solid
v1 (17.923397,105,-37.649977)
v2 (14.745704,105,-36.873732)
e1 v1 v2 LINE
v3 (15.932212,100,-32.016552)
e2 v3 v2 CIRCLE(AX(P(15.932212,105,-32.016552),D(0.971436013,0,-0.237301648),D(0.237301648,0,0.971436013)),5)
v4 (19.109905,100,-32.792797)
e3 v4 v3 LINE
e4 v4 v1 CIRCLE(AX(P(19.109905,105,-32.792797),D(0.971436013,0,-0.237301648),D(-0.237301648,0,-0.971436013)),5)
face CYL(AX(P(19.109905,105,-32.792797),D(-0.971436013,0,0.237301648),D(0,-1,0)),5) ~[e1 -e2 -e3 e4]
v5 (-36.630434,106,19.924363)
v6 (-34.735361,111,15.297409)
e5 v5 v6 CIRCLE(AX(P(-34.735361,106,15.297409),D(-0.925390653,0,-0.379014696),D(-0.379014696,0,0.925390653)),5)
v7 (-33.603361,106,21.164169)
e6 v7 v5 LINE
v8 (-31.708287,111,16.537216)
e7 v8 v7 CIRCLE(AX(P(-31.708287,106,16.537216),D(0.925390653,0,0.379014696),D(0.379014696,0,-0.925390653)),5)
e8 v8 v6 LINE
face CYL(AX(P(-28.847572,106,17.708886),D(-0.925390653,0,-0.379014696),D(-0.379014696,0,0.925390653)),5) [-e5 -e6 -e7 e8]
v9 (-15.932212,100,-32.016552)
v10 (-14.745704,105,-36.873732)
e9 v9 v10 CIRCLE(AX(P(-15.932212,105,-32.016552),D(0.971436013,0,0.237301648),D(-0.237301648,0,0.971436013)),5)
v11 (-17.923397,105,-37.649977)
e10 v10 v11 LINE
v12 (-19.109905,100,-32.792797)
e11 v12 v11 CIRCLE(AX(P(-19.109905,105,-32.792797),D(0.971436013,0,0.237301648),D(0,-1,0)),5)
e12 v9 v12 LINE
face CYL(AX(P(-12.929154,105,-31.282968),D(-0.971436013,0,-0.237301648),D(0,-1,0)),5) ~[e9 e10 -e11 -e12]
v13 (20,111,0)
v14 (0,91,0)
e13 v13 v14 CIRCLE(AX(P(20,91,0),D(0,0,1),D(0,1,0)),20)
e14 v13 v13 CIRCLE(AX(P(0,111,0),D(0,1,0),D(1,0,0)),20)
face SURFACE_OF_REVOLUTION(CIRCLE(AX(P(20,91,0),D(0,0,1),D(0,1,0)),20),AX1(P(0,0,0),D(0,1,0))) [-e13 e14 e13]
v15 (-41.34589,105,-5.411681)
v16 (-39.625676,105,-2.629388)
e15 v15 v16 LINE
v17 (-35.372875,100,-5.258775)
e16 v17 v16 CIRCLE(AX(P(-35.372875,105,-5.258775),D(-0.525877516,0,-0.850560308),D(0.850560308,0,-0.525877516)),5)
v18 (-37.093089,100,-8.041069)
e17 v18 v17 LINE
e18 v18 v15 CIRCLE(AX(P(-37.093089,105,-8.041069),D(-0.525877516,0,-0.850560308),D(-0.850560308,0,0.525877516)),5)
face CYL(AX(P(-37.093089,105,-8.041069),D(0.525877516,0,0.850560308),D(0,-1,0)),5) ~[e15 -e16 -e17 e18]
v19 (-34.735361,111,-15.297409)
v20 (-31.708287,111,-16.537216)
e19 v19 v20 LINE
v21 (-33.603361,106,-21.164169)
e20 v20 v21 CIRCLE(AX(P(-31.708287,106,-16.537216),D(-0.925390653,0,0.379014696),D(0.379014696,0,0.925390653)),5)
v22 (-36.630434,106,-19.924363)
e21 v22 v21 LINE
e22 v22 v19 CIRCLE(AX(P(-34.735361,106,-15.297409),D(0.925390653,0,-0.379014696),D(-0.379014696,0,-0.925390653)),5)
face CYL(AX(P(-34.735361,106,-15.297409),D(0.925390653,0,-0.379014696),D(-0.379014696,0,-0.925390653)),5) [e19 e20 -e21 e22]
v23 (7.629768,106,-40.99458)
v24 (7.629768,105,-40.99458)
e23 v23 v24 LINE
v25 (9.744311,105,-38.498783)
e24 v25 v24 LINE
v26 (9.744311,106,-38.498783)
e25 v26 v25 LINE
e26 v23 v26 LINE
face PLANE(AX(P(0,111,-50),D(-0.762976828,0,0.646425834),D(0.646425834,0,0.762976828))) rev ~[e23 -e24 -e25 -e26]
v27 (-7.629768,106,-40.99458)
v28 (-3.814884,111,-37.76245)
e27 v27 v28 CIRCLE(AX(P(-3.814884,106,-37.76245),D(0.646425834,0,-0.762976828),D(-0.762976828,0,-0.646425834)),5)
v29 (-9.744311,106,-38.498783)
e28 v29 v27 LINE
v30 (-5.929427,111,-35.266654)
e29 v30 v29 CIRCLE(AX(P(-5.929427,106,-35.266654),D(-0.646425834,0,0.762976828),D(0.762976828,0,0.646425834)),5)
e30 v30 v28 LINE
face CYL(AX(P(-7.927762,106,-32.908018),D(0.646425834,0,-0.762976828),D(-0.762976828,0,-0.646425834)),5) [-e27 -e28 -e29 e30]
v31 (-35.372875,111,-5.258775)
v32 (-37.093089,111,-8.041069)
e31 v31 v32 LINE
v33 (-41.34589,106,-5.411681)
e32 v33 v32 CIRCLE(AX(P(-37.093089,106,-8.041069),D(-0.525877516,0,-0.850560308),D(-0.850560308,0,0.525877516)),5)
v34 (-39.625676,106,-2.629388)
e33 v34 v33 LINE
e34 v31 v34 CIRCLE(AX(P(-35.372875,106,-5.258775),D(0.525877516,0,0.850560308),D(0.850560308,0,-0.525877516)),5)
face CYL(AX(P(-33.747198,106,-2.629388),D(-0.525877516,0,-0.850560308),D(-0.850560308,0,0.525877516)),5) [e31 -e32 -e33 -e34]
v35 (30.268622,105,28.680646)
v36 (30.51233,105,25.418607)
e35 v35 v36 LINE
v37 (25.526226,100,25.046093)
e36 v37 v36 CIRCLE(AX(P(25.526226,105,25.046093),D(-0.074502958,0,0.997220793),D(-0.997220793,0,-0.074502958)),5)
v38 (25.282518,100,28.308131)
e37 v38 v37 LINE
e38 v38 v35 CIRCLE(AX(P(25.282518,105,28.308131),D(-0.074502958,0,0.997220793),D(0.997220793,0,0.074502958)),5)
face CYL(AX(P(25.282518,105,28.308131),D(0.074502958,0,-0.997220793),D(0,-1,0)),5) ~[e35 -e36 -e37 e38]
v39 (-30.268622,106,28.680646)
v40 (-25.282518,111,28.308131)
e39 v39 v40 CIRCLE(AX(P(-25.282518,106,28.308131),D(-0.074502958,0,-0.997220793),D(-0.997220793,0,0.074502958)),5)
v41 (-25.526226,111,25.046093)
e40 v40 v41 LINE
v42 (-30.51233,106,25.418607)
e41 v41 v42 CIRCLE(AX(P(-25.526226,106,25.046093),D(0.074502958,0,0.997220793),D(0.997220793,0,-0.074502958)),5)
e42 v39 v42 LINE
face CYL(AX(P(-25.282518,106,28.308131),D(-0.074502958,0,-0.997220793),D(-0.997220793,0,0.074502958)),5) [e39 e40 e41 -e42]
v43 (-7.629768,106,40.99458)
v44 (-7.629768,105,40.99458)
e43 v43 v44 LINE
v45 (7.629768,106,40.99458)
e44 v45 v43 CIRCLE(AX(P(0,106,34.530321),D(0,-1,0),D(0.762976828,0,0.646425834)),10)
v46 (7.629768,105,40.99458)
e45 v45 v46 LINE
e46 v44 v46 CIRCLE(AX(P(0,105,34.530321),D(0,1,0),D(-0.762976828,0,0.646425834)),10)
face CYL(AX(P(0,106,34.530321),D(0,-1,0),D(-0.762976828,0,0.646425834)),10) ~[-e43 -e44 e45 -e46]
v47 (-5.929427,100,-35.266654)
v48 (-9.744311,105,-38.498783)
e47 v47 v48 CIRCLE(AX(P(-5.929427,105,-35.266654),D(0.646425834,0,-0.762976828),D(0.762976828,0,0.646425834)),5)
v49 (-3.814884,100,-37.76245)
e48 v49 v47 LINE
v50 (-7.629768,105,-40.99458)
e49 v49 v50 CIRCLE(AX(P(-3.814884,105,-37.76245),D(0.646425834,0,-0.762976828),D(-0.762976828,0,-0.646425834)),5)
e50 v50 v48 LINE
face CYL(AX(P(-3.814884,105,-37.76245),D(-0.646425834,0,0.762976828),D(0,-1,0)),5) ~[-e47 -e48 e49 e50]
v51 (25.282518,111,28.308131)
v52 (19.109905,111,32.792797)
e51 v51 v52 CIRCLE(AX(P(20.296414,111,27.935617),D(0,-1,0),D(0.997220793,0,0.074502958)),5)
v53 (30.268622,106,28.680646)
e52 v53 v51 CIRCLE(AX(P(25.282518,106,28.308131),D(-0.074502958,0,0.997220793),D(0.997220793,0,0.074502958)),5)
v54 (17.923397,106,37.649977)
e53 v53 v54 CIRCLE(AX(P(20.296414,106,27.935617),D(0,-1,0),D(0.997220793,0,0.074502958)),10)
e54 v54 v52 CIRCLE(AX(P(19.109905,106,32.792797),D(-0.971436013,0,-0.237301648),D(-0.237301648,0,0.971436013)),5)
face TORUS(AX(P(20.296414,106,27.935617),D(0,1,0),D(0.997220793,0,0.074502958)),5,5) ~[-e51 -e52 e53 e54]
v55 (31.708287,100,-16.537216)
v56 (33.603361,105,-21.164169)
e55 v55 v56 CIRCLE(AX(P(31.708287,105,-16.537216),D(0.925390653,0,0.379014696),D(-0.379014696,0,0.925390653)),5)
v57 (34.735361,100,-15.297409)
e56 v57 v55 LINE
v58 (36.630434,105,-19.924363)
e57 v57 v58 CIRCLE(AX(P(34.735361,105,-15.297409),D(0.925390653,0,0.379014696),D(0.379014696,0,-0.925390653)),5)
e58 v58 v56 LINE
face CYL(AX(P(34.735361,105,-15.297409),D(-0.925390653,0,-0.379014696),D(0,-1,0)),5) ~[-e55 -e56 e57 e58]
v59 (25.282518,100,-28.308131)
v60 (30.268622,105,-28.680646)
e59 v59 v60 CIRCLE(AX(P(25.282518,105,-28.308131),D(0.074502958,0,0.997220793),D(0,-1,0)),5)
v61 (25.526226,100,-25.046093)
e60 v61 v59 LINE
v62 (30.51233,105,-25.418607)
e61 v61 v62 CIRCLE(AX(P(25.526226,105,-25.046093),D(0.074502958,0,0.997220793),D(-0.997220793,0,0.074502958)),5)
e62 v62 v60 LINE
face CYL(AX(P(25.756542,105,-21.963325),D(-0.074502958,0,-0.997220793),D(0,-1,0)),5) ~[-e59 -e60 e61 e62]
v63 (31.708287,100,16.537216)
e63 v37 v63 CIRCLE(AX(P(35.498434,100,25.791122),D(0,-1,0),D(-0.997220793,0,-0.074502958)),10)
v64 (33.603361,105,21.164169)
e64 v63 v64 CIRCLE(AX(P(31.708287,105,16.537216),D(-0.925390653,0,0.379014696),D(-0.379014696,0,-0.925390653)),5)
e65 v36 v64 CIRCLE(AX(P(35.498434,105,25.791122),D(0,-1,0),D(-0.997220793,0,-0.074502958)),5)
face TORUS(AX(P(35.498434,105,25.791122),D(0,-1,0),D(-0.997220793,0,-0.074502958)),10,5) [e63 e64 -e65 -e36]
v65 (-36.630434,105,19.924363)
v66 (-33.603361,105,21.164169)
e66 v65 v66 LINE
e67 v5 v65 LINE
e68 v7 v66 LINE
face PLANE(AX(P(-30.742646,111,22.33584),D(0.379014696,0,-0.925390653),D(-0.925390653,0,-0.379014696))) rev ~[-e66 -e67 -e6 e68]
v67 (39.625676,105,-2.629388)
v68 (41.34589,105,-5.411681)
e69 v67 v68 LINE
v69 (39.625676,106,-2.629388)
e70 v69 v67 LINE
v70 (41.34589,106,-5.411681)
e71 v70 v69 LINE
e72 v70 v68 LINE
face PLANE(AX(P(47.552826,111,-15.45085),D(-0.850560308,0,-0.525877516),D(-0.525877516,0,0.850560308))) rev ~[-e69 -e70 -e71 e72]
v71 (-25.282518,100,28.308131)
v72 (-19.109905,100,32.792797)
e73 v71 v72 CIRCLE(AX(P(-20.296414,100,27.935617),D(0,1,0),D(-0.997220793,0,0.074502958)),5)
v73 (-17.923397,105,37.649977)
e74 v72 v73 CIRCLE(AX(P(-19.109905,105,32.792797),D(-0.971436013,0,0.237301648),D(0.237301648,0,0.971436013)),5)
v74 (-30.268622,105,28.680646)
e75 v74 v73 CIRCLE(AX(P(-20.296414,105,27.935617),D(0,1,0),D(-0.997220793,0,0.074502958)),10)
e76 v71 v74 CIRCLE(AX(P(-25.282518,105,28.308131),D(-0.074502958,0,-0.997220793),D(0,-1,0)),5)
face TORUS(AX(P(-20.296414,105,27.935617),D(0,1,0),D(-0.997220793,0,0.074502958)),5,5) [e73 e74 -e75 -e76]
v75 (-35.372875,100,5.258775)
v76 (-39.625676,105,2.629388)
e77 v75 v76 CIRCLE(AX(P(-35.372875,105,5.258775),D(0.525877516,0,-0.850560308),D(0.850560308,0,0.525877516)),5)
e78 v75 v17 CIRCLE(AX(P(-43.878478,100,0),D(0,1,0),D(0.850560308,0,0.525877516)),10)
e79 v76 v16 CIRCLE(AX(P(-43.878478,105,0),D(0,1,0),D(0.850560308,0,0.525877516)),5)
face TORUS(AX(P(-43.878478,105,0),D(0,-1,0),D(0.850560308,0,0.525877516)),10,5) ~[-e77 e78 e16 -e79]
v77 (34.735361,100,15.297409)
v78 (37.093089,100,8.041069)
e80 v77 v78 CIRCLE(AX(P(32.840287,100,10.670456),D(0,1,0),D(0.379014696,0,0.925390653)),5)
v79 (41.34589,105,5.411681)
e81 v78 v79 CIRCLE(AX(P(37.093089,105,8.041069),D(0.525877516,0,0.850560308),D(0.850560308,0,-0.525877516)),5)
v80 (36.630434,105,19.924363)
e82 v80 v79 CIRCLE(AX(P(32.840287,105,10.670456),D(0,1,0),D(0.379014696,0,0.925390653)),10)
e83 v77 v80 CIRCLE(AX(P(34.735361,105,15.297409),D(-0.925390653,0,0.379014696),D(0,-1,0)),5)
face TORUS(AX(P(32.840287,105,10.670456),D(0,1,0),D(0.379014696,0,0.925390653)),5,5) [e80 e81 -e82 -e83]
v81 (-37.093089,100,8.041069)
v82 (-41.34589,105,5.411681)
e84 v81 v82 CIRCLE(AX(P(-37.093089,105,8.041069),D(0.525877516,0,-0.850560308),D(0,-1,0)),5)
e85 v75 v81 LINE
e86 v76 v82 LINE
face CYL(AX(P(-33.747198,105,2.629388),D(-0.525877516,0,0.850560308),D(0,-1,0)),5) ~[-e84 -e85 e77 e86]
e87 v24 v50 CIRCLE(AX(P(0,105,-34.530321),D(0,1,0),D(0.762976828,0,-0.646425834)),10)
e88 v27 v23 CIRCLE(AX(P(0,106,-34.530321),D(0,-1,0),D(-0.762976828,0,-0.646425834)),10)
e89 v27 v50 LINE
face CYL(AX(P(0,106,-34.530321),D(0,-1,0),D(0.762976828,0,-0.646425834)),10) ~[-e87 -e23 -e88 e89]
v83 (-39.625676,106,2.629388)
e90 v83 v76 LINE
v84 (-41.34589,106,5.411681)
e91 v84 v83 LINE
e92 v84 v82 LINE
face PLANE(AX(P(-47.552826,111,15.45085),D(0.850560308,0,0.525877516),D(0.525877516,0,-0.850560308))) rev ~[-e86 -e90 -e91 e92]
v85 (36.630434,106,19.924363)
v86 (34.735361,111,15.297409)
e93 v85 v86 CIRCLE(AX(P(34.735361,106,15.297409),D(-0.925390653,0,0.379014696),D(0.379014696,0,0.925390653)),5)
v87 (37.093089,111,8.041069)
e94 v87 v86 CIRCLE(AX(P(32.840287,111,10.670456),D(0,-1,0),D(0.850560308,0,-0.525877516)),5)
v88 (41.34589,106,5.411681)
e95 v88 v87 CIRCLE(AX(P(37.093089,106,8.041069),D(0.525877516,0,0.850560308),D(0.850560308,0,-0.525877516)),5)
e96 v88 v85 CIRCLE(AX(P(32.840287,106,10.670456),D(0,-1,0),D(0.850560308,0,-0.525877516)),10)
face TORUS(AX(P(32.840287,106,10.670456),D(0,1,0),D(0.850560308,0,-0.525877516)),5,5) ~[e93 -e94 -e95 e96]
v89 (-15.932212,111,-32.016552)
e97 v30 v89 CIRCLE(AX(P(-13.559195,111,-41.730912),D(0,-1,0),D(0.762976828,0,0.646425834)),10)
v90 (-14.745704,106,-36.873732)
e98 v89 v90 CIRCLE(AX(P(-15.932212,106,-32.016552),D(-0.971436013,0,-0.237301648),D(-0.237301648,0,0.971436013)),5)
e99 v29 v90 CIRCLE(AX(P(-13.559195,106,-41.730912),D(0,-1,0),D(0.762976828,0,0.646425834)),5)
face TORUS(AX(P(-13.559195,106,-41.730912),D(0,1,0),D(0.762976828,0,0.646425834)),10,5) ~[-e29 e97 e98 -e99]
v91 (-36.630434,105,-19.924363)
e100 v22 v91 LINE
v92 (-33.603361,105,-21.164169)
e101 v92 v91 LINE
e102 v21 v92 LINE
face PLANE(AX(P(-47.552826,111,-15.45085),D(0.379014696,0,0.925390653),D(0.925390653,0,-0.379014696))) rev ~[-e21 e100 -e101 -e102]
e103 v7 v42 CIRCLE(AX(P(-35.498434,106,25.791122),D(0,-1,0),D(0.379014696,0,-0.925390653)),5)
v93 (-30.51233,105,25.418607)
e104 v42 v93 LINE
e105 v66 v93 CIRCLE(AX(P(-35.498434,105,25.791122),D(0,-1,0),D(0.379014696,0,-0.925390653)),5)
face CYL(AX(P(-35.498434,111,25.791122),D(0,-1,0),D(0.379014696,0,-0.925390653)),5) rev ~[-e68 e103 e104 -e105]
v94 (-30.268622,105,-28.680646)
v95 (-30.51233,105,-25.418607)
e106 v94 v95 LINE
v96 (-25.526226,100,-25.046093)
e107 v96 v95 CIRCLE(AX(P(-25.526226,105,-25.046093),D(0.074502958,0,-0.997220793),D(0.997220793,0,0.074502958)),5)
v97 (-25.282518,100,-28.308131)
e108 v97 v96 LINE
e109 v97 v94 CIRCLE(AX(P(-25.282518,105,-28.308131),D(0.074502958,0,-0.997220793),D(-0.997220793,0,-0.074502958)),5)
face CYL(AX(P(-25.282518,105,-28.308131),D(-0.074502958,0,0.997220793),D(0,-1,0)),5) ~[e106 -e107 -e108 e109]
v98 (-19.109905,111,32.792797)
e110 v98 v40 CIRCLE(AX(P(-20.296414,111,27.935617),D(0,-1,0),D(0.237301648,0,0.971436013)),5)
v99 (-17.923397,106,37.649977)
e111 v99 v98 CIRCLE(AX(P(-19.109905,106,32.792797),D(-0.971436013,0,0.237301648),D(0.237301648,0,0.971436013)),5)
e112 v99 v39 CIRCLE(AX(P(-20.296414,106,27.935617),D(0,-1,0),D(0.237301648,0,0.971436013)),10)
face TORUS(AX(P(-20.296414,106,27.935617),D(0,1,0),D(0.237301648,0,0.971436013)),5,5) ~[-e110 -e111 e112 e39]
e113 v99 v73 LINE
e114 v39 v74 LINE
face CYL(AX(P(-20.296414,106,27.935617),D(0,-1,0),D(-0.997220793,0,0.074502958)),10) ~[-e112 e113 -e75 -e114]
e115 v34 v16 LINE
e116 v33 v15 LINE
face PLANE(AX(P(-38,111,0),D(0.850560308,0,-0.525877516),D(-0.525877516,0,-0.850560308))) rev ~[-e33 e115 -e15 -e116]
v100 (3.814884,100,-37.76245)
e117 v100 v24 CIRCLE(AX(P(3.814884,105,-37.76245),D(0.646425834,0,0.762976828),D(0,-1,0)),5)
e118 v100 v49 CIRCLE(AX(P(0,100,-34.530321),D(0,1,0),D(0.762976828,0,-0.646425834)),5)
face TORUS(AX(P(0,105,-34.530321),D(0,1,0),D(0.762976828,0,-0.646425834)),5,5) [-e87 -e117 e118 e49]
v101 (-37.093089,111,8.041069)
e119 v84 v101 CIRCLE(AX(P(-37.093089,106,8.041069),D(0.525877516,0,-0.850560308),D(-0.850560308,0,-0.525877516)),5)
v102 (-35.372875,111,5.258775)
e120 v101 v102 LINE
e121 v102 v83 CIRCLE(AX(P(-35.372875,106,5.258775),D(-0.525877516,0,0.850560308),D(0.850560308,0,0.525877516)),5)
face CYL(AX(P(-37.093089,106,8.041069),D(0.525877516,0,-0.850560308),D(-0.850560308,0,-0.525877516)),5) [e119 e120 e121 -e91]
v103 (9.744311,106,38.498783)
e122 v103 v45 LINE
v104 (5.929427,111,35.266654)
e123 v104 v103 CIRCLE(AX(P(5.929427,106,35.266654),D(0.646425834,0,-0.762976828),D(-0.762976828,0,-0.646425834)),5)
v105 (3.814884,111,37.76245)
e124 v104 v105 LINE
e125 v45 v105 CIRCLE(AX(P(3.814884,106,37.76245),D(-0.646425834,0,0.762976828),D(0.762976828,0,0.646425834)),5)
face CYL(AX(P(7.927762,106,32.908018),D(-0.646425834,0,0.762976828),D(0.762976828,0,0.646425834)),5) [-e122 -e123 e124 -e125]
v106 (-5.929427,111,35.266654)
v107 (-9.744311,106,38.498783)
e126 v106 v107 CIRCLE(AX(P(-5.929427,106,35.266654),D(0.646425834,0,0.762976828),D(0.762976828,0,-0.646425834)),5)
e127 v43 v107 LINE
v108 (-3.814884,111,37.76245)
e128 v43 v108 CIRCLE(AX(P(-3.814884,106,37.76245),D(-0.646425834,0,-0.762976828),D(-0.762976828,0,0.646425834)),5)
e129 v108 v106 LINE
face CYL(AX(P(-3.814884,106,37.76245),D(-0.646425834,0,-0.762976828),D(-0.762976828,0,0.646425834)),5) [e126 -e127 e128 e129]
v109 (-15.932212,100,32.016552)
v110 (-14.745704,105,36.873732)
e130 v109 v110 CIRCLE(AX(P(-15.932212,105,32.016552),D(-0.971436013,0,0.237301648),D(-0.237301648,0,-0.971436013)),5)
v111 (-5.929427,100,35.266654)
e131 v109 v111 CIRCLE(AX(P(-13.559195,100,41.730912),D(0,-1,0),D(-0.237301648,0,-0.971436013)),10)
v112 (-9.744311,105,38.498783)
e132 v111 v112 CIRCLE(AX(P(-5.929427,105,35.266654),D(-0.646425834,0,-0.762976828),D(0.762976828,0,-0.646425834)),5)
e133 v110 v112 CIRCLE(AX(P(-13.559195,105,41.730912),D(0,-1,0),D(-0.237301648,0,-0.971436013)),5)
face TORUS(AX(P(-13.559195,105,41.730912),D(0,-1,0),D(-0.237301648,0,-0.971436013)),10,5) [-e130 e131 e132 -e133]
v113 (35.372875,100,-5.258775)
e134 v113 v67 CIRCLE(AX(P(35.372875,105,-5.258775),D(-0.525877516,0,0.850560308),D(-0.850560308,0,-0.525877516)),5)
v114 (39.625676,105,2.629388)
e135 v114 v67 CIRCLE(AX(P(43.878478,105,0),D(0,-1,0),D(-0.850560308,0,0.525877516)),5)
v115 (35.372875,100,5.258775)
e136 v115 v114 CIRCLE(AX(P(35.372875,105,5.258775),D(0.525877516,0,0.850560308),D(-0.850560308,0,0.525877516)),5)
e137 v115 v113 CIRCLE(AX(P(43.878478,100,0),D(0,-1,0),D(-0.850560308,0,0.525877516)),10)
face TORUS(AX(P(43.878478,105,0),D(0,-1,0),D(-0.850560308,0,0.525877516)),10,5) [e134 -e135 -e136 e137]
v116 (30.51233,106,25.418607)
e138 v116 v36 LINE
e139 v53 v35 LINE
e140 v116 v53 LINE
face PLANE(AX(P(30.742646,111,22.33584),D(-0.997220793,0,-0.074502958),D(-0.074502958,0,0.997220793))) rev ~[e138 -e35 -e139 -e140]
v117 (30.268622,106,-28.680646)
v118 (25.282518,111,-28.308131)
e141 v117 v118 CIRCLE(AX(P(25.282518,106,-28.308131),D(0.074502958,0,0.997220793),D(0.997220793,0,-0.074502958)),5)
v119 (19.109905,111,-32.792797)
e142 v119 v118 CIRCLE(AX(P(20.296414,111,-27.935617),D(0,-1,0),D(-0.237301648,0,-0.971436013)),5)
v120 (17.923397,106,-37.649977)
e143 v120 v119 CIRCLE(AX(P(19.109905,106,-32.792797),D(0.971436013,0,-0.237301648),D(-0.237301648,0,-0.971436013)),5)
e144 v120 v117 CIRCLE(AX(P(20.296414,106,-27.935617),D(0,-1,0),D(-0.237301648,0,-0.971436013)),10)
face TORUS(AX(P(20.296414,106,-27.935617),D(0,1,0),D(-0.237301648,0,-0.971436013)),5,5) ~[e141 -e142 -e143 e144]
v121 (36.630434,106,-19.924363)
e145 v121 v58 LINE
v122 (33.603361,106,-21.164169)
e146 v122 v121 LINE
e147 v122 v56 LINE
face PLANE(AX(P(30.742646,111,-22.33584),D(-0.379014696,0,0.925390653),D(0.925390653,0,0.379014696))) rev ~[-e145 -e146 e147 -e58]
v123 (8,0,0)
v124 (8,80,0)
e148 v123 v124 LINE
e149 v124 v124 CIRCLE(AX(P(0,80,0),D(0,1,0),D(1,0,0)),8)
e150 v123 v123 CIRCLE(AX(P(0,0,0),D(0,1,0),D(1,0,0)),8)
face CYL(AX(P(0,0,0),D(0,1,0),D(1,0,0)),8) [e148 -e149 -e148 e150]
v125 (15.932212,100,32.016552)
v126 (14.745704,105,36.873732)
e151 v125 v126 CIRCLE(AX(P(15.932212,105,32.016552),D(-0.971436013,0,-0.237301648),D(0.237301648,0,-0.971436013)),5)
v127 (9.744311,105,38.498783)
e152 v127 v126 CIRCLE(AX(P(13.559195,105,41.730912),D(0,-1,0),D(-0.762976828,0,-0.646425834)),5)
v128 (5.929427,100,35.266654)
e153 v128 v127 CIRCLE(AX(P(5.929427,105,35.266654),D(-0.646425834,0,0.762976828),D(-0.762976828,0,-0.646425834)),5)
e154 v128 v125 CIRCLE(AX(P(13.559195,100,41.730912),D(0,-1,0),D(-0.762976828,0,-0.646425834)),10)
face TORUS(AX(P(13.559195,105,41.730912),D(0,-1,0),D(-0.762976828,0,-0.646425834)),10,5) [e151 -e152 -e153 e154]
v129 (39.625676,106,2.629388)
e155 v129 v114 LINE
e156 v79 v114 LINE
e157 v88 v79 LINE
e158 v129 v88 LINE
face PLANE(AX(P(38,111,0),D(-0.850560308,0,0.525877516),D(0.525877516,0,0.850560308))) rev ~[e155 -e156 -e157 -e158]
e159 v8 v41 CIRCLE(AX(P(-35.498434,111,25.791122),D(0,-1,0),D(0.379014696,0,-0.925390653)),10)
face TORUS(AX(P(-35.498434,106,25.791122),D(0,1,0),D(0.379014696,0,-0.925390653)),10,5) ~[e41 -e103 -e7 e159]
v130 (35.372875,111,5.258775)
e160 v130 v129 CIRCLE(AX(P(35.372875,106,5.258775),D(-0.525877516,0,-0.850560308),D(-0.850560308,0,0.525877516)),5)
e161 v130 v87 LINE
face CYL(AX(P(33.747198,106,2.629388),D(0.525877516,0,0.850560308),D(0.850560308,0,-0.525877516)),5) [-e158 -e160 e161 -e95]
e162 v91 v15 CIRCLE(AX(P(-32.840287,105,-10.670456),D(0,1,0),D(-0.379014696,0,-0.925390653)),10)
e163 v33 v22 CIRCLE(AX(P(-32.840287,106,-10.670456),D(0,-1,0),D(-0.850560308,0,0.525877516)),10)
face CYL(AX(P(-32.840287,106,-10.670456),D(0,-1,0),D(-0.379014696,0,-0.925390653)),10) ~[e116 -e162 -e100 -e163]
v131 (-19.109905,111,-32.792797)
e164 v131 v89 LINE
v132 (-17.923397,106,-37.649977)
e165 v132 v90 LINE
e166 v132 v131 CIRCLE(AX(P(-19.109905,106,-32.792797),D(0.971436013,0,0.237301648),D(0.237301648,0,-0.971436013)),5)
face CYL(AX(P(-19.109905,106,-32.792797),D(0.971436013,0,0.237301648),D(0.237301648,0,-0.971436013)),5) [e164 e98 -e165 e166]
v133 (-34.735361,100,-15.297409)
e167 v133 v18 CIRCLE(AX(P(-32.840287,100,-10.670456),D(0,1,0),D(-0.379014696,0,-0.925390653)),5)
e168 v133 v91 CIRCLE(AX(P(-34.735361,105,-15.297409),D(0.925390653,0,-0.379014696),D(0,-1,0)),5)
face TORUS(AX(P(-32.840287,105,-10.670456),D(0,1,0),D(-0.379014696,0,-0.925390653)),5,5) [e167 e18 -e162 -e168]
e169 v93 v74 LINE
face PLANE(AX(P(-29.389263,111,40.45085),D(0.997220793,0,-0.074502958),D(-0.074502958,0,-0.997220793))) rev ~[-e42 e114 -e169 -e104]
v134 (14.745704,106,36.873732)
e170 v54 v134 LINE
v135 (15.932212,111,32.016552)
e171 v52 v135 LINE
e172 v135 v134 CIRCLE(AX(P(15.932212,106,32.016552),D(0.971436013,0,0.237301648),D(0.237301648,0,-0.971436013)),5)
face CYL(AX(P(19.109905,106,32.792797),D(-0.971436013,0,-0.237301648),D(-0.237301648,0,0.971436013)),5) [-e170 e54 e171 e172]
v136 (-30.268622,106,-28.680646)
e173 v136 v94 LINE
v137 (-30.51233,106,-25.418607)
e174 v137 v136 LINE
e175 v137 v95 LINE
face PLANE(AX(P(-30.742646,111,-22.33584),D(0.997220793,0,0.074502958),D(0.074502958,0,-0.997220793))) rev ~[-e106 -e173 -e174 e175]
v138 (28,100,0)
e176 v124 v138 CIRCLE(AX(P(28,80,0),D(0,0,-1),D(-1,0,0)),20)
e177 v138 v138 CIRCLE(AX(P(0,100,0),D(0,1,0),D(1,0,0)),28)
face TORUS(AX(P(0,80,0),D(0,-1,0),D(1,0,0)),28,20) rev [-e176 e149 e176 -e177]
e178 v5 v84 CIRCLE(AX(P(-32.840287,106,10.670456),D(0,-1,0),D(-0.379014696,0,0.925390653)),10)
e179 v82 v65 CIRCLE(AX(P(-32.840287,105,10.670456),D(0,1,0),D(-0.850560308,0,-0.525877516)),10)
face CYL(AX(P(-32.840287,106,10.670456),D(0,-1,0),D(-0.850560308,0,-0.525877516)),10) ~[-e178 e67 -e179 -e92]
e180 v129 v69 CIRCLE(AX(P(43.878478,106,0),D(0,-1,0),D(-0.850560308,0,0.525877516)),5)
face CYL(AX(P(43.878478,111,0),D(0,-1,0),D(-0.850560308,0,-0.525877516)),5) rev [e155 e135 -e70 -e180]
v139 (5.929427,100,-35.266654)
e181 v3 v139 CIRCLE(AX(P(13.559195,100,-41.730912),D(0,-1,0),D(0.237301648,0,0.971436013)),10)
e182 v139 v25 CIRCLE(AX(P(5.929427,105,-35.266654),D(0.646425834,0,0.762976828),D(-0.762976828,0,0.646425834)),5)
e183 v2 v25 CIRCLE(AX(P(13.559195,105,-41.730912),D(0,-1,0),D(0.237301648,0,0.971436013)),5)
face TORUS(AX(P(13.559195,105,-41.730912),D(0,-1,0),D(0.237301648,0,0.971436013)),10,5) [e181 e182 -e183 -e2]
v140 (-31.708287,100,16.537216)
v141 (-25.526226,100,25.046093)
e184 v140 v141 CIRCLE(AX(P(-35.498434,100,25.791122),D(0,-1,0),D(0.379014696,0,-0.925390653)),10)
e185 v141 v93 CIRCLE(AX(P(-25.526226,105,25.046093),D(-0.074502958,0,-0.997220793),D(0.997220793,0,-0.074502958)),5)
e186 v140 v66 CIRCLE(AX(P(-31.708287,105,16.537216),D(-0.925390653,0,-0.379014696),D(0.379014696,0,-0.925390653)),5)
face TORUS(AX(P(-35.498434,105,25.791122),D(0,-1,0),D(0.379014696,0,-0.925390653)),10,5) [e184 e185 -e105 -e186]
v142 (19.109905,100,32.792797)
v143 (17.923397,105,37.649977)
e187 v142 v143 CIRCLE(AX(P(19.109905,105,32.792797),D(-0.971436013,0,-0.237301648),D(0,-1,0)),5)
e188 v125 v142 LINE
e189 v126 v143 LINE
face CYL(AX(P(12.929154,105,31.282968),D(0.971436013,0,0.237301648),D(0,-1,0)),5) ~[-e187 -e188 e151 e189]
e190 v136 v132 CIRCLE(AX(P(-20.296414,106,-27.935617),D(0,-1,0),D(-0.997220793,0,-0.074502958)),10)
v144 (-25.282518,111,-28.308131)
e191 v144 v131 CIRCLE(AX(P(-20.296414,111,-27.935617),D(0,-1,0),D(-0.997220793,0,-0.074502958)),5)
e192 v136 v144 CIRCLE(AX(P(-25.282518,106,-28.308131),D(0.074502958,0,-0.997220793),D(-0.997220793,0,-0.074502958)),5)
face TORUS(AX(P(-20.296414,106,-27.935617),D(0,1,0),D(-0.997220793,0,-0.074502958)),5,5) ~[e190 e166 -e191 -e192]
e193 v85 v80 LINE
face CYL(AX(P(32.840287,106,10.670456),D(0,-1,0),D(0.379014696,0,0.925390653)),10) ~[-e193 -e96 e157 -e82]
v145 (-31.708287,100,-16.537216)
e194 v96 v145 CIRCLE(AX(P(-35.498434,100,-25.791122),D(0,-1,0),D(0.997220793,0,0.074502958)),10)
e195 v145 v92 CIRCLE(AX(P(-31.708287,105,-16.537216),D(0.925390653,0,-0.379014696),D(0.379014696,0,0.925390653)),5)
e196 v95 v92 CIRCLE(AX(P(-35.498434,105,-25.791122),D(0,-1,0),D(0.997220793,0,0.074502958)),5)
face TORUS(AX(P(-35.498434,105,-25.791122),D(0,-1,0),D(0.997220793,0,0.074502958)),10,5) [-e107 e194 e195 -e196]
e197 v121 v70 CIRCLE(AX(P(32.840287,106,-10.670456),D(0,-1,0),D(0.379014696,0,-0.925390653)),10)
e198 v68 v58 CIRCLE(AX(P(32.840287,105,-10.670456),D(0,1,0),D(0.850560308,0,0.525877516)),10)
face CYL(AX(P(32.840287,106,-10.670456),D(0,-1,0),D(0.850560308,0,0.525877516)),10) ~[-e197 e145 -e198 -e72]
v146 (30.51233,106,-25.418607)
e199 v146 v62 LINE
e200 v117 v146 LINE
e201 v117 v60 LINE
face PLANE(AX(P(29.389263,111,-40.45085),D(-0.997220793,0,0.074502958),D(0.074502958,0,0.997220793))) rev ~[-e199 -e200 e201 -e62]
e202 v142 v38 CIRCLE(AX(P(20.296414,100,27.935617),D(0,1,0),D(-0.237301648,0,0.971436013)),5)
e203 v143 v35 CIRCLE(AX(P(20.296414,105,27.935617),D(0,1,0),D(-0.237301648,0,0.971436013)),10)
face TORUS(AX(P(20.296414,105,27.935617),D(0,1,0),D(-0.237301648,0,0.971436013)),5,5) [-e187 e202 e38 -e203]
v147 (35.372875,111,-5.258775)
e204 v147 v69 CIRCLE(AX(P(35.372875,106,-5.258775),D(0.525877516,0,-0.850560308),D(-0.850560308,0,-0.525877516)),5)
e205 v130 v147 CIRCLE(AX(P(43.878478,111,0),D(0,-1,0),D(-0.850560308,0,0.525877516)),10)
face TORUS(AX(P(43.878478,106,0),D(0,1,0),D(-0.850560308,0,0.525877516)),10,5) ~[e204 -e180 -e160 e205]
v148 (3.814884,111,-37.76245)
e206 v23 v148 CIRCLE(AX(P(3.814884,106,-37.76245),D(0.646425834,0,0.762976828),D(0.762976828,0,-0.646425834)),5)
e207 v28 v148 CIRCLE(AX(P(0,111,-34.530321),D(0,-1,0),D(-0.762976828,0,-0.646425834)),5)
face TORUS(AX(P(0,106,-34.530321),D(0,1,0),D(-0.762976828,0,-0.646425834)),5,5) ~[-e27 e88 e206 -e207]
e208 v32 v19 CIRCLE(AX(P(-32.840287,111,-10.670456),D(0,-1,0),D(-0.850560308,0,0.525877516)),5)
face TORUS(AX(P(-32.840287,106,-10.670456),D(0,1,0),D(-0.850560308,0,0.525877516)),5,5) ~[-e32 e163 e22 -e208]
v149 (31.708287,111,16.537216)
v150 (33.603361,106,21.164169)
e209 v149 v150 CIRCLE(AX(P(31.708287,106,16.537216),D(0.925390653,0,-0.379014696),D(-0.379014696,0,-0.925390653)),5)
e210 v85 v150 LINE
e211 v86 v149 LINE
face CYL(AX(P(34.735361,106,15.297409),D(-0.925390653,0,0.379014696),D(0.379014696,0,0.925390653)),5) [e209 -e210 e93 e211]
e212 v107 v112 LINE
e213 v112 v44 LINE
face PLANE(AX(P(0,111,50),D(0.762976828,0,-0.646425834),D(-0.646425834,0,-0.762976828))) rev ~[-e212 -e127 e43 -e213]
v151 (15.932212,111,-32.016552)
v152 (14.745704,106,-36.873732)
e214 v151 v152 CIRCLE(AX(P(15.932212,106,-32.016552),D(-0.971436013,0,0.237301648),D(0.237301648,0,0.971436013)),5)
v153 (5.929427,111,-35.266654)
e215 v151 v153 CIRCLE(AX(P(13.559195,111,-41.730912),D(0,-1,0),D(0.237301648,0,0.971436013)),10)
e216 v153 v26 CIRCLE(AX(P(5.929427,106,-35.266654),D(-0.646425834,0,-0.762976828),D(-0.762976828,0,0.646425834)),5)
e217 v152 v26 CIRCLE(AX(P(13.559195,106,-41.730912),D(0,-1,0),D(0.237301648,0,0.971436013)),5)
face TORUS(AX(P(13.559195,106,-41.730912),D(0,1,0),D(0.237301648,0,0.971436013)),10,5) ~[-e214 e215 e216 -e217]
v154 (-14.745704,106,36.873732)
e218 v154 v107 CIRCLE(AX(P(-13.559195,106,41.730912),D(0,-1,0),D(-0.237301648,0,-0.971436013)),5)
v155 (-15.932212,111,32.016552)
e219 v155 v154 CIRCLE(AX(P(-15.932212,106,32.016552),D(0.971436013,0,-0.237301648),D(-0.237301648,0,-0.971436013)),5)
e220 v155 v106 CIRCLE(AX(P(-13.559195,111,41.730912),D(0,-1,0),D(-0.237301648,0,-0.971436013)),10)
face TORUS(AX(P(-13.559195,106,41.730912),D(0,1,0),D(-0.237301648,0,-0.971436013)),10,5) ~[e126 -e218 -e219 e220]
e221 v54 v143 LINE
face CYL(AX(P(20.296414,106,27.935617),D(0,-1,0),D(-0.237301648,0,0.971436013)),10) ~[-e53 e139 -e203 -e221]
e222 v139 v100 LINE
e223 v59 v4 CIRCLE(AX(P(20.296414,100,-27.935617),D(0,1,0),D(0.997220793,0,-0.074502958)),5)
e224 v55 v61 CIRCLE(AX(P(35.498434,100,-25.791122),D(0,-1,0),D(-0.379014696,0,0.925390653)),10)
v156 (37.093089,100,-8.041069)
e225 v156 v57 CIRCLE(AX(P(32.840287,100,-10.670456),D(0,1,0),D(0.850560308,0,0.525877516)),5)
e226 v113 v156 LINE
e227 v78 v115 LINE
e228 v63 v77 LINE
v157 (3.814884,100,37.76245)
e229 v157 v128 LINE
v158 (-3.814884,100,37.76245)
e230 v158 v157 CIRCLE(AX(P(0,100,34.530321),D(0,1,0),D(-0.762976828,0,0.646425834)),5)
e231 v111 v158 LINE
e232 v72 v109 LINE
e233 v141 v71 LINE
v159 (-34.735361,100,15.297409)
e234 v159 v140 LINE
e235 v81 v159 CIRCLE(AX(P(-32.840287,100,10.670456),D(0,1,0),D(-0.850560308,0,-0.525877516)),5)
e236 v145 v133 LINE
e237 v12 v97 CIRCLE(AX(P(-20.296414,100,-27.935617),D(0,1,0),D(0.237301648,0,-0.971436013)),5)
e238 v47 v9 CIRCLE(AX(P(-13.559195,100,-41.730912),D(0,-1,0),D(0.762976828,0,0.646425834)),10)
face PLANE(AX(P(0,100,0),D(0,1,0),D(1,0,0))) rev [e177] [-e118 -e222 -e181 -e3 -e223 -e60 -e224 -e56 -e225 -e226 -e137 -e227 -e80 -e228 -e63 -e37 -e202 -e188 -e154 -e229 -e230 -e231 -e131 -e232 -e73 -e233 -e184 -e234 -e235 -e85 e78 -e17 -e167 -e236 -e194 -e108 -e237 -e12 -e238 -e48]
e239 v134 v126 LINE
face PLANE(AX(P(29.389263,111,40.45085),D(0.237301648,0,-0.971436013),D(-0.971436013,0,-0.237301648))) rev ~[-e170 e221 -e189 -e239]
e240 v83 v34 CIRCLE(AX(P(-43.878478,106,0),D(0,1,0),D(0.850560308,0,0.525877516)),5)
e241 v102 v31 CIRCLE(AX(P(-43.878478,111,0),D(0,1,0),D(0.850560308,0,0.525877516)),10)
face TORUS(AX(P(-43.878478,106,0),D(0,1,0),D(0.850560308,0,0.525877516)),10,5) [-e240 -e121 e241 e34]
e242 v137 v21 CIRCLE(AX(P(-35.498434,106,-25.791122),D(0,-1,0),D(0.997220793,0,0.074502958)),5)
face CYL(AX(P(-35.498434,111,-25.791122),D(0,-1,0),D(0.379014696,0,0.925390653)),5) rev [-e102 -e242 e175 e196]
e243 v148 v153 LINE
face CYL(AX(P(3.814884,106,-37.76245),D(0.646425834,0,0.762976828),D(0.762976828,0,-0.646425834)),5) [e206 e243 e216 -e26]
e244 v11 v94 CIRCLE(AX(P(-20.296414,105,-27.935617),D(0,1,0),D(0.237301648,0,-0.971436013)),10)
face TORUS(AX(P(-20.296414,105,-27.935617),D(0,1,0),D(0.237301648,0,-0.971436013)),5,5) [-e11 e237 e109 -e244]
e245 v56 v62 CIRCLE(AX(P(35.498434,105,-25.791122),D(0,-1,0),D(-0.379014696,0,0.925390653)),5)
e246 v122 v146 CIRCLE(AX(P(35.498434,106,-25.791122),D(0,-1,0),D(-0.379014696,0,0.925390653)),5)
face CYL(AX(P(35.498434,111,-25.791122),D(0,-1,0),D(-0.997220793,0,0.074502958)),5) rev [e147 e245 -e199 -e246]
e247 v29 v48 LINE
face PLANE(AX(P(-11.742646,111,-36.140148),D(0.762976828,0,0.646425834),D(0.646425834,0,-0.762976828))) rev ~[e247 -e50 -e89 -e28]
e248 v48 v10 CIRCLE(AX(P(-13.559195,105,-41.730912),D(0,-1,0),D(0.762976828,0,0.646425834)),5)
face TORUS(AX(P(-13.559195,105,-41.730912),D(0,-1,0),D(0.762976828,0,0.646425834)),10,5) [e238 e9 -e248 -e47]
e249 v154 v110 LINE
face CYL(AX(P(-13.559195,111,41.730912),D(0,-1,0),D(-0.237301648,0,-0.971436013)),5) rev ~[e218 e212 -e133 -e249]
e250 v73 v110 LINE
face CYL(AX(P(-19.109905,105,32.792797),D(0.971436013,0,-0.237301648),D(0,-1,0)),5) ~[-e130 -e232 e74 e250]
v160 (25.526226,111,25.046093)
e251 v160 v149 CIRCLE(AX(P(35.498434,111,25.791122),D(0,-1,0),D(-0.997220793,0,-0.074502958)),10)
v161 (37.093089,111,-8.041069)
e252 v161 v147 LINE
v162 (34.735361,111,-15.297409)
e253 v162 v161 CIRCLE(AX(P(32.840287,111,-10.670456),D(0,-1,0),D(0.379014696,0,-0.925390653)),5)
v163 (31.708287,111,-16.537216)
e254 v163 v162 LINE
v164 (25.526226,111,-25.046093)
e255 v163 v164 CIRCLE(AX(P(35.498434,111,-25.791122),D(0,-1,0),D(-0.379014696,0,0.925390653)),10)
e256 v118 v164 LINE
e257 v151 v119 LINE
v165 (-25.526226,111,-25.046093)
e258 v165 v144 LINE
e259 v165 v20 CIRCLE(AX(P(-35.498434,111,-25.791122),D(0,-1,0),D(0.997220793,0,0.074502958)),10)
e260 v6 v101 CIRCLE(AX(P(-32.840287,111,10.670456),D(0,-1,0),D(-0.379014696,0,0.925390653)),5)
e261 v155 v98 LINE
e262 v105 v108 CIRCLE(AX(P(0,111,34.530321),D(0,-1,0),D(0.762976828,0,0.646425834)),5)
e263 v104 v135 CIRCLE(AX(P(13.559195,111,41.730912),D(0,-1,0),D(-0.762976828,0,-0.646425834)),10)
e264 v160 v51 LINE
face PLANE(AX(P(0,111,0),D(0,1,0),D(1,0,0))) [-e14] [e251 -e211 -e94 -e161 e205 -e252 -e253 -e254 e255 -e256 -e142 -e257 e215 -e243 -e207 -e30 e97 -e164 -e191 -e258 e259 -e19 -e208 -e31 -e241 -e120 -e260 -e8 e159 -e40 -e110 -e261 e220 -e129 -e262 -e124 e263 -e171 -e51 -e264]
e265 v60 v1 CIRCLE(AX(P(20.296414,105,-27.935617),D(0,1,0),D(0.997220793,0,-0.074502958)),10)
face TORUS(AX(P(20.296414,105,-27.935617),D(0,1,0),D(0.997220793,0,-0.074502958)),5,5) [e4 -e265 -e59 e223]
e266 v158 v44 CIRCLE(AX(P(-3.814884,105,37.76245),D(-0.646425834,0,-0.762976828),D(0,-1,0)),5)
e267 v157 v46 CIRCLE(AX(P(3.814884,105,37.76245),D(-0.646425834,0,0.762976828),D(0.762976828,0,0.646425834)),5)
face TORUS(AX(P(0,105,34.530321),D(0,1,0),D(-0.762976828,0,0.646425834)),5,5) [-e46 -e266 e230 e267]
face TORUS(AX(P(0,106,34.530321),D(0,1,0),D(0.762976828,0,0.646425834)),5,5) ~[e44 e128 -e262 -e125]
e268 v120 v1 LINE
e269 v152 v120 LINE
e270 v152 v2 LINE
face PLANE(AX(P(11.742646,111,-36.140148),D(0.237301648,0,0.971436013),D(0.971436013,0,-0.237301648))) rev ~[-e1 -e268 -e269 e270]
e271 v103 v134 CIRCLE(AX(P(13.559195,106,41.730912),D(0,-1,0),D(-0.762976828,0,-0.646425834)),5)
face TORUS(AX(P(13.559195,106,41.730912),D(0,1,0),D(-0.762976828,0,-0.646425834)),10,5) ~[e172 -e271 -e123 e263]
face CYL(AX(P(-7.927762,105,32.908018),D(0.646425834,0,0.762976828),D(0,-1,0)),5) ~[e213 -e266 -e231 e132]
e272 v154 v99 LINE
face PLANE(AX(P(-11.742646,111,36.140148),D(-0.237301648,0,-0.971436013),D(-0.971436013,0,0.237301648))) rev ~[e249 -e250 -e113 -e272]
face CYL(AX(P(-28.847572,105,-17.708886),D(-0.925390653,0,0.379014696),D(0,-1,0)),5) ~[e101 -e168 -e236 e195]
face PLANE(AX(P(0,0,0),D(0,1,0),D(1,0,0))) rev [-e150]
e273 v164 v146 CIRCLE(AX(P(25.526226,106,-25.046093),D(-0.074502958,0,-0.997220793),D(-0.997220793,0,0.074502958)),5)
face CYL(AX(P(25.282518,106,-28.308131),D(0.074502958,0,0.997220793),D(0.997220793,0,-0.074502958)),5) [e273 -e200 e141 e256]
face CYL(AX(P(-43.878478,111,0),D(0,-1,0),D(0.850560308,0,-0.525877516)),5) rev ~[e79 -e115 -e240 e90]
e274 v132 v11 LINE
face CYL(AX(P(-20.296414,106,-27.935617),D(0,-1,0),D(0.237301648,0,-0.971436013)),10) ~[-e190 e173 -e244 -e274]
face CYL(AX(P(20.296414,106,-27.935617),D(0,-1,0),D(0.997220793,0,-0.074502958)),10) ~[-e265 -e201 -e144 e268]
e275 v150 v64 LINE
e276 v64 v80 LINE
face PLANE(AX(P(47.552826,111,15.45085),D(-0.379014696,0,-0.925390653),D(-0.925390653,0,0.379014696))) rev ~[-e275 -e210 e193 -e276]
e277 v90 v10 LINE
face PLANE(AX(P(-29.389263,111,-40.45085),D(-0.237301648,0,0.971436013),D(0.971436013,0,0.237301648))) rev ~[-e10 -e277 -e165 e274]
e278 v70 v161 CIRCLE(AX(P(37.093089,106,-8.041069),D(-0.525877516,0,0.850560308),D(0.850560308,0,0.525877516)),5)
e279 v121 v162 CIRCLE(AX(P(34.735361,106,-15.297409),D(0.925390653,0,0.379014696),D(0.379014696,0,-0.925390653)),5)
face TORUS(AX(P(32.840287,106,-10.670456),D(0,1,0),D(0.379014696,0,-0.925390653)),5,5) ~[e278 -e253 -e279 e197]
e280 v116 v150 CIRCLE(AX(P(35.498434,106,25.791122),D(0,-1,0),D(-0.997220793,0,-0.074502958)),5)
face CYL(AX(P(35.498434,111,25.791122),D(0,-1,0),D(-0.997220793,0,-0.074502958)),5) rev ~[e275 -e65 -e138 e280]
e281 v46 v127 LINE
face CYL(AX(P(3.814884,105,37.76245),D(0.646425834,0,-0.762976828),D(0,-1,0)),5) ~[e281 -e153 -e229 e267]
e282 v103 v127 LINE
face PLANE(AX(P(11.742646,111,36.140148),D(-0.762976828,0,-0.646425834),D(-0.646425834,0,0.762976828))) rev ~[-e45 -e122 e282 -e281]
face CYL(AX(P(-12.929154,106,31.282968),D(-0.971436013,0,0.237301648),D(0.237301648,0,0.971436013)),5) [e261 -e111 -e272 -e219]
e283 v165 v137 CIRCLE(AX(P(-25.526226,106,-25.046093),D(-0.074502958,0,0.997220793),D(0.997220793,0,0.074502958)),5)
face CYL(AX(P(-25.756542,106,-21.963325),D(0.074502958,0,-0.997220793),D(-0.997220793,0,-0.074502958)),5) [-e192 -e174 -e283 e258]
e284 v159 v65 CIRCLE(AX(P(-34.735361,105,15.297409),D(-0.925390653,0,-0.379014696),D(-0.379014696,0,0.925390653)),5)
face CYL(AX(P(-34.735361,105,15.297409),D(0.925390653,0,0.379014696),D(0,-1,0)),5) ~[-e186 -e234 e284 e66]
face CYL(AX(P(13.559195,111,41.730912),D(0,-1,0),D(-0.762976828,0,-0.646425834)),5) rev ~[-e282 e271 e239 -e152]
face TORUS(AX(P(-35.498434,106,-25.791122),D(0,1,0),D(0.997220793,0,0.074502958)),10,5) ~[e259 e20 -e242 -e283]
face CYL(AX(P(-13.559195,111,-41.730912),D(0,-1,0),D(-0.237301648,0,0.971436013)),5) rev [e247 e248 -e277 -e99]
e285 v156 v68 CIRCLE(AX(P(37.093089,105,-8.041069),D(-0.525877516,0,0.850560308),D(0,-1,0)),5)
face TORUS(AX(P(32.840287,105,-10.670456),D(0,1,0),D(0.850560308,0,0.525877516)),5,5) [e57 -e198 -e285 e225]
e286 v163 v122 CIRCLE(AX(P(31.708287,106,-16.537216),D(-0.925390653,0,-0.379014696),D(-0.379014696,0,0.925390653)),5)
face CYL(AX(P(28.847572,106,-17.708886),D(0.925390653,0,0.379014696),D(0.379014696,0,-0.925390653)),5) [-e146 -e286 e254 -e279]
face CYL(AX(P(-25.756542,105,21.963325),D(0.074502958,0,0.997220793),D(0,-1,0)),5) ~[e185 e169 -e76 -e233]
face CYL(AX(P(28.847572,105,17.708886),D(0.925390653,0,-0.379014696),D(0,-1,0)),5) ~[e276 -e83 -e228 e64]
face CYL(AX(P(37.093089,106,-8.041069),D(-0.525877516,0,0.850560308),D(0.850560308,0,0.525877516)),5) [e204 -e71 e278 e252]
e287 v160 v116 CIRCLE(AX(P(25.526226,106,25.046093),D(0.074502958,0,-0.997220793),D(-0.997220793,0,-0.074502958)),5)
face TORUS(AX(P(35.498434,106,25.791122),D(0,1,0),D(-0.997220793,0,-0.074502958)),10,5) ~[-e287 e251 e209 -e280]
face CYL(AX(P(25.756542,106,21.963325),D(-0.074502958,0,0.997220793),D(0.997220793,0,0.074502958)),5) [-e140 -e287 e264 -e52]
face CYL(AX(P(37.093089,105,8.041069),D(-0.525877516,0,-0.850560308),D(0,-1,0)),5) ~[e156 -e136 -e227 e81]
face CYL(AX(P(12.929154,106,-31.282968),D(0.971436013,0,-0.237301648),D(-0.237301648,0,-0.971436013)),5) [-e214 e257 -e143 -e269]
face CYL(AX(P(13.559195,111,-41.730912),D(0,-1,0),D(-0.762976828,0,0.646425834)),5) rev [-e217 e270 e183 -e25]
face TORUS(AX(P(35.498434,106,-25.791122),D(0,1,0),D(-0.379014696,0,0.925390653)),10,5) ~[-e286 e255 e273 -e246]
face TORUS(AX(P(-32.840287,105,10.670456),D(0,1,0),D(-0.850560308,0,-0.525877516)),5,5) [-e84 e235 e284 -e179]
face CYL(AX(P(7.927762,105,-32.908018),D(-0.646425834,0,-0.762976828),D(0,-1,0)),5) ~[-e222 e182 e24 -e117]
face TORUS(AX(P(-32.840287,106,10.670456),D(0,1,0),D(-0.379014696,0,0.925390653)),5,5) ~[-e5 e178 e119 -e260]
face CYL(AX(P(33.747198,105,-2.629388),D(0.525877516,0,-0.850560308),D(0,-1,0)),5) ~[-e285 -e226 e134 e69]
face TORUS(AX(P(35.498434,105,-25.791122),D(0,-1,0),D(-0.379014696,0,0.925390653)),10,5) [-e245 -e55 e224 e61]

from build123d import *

# Parameters (mm, degrees)
SKETCH2_OUTSIDE_W = 137.956
SKETCH2_OUTSIDE_H = 137.956
EXTRUDE1_DEPTH    = 40
CONG_1_R          = 10
CONG_2_R          = 10
CONG_3_R          = 10
CONG_4_R          = 10
CONG_5_R          = 10
CONG_6_R          = 10
CONG_7_R          = 10
CONG_8_R          = 10
CONG_9_R          = 10
CONG_10_R         = 10
FILLET1_R         = 5


with BuildPart() as part:
    # Sketch1 → Revolve1 (revolve)
    with BuildSketch(Plane.XY):
        with BuildLine():
            Line((0, 0), (8, 0))
            Line((8, 0), (8, 80))
            ThreePointArc((8, 80), (13.857864376, 94.142135624), (28, 100))
            Line((28, 100), (45, 100))
            ThreePointArc((45, 100), (48.535533906, 101.464466094), (50, 105))
            Line((50, 105), (50, 106))
            ThreePointArc((50, 106), (48.535533906, 109.535533906), (45, 111))
            Line((45, 111), (20, 111))
            ThreePointArc((20, 111), (5.857864376, 105.142135624), (0, 91))
            Line((0, 91), (0, 0))
        make_face()
    revolve(axis=Axis((0, 0, 0), (0, 1, 0)))

    # Sketch2 outside → Extrude1 (cut)
    with BuildSketch(Plane(origin=(0, 111, 0), x_dir=(1, 0, 0), z_dir=(0, 1, 0))):
        Rectangle(SKETCH2_OUTSIDE_W, SKETCH2_OUTSIDE_H)
        Polygon((-29.389262615, -40.450849719), (-30.742645786, -22.335839587), (-47.552825815, -15.450849719), (-38, 0), (-47.552825815, 15.450849719), (-30.742645786, 22.335839587), (-29.389262615, 40.450849719), (-11.742645786, 36.140147619), (0, 50), (11.742645786, 36.140147619), (29.389262615, 40.450849719), (30.742645786, 22.335839587), (47.552825815, 15.450849719), (38, 0), (47.552825815, -15.450849719), (30.742645786, -22.335839587), (29.389262615, -40.450849719), (11.742645786, -36.140147619), (0, -50), (-11.742645786, -36.140147619), align=None, mode=Mode.SUBTRACT)
    extrude(amount=-EXTRUDE1_DEPTH, mode=Mode.SUBTRACT)

    # Congé1
    cong_1_edges = [part.edges().sort_by_distance(p)[0] for p in [
        (-47.552825815, 105.5, 15.450849719),
    ]]
    fillet(cong_1_edges, radius=CONG_1_R)

    # Congé2
    cong_2_edges = [part.edges().sort_by_distance(p)[0] for p in [
        (-29.389262615, 105.5, 40.450849719),
    ]]
    fillet(cong_2_edges, radius=CONG_2_R)

    # Congé3
    cong_3_edges = [part.edges().sort_by_distance(p)[0] for p in [
        (0, 105.5, 50),
    ]]
    fillet(cong_3_edges, radius=CONG_3_R)

    # Congé4
    cong_4_edges = [part.edges().sort_by_distance(p)[0] for p in [
        (29.389262615, 105.5, 40.450849719),
    ]]
    fillet(cong_4_edges, radius=CONG_4_R)

    # Congé5
    cong_5_edges = [part.edges().sort_by_distance(p)[0] for p in [
        (47.552825815, 105.5, 15.450849719),
    ]]
    fillet(cong_5_edges, radius=CONG_5_R)

    # Congé6
    cong_6_edges = [part.edges().sort_by_distance(p)[0] for p in [
        (47.552825815, 105.5, -15.450849719),
    ]]
    fillet(cong_6_edges, radius=CONG_6_R)

    # Congé7
    cong_7_edges = [part.edges().sort_by_distance(p)[0] for p in [
        (29.389262615, 105.5, -40.450849719),
    ]]
    fillet(cong_7_edges, radius=CONG_7_R)

    # Congé8
    cong_8_edges = [part.edges().sort_by_distance(p)[0] for p in [
        (0, 105.5, -50),
    ]]
    fillet(cong_8_edges, radius=CONG_8_R)

    # Congé9
    cong_9_edges = [part.edges().sort_by_distance(p)[0] for p in [
        (-29.389262615, 105.5, -40.450849719),
    ]]
    fillet(cong_9_edges, radius=CONG_9_R)

    # Congé10
    cong_10_edges = [part.edges().sort_by_distance(p)[0] for p in [
        (-47.552825815, 105.5, -15.450849719),
    ]]
    fillet(cong_10_edges, radius=CONG_10_R)

    # Fillet1
    fillet1_edges = [part.edges().sort_by_distance(p)[0] for p in [
        (-14.833021442, 111, -36.895062227),
        (-11.742645786, 105.5, -36.140147619),
        (9.686207035, 111, -38.567363601),
        (11.742645786, 105.5, -36.140147619),
        (30.505633647, 111, -25.508242935),
        (30.742645786, 105.5, -22.335839587),
        (39.672945054, 111, -2.705840462),
        (38, 105.5, 0),
        (33.686539884, 111, 21.1301011),
        (30.742645786, 105.5, 22.335839587),
        (14.833021442, 111, 36.895062227),
        (11.742645786, 105.5, 36.140147619),
        (-33.686539884, 111, 21.1301011),
        (-39.672945054, 100, 2.705840462),
        (-42.350852187, 111, 13.760626028),
        (-42.350852187, 100, 13.760626028),
        (-30.505633647, 100, 25.508242935),
        (-14.833021442, 111, 36.895062227),
        (-26.174266104, 100, 36.025786647),
        (-26.174266104, 111, 36.025786647),
        (-9.686207035, 100, 38.567363601),
        (9.686207035, 111, 38.567363601),
        (0, 100, 44.530321239),
        (0, 111, 44.530321239),
        (14.833021442, 100, 36.895062227),
        (30.505633647, 111, 25.508242935),
        (26.174266104, 100, 36.025786647),
        (26.174266104, 111, 36.025786647),
        (33.686539884, 100, 21.1301011),
        (39.672945054, 111, 2.705840462),
        (42.350852187, 100, 13.760626028),
        (42.350852187, 111, 13.760626028),
        (39.672945054, 100, -2.705840462),
        (33.686539884, 111, -21.1301011),
        (42.350852187, 100, -13.760626028),
        (42.350852187, 111, -13.760626028),
        (9.686207035, 100, 38.567363601),
        (30.505633647, 100, -25.508242935),
        (14.833021442, 111, -36.895062227),
        (26.174266104, 100, -36.025786647),
        (26.174266104, 111, -36.025786647),
        (30.505633647, 100, 25.508242935),
        (9.686207035, 100, -38.567363601),
        (-9.686207035, 111, -38.567363601),
        (0, 100, -44.530321239),
        (0, 111, -44.530321239),
        (39.672945054, 100, 2.705840462),
        (-14.833021442, 100, -36.895062227),
        (-30.505633647, 111, -25.508242935),
        (-26.174266104, 100, -36.025786647),
        (-26.174266104, 111, -36.025786647),
        (33.686539884, 100, -21.1301011),
        (-33.686539884, 100, -21.1301011),
        (-39.672945054, 111, -2.705840462),
        (-42.350852187, 100, -13.760626028),
        (14.833021442, 100, -36.895062227),
        (-42.350852187, 111, -13.760626028),
        (-9.686207035, 100, -38.567363601),
        (-30.505633647, 100, -25.508242935),
        (-39.672945054, 100, -2.705840462),
        (-33.686539884, 100, 21.1301011),
        (-14.833021442, 100, 36.895062227),
        (-9.686207035, 111, 38.567363601),
        (-11.742645786, 105.5, 36.140147619),
        (-30.505633647, 111, 25.508242935),
        (-30.742645786, 105.5, 22.335839587),
        (-39.672945054, 111, 2.705840462),
        (-38, 105.5, 0),
        (-33.686539884, 111, -21.1301011),
        (-30.742645786, 105.5, -22.335839587),
    ]]
    fillet(fillet1_edges, radius=FILLET1_R)


solid = part.part
